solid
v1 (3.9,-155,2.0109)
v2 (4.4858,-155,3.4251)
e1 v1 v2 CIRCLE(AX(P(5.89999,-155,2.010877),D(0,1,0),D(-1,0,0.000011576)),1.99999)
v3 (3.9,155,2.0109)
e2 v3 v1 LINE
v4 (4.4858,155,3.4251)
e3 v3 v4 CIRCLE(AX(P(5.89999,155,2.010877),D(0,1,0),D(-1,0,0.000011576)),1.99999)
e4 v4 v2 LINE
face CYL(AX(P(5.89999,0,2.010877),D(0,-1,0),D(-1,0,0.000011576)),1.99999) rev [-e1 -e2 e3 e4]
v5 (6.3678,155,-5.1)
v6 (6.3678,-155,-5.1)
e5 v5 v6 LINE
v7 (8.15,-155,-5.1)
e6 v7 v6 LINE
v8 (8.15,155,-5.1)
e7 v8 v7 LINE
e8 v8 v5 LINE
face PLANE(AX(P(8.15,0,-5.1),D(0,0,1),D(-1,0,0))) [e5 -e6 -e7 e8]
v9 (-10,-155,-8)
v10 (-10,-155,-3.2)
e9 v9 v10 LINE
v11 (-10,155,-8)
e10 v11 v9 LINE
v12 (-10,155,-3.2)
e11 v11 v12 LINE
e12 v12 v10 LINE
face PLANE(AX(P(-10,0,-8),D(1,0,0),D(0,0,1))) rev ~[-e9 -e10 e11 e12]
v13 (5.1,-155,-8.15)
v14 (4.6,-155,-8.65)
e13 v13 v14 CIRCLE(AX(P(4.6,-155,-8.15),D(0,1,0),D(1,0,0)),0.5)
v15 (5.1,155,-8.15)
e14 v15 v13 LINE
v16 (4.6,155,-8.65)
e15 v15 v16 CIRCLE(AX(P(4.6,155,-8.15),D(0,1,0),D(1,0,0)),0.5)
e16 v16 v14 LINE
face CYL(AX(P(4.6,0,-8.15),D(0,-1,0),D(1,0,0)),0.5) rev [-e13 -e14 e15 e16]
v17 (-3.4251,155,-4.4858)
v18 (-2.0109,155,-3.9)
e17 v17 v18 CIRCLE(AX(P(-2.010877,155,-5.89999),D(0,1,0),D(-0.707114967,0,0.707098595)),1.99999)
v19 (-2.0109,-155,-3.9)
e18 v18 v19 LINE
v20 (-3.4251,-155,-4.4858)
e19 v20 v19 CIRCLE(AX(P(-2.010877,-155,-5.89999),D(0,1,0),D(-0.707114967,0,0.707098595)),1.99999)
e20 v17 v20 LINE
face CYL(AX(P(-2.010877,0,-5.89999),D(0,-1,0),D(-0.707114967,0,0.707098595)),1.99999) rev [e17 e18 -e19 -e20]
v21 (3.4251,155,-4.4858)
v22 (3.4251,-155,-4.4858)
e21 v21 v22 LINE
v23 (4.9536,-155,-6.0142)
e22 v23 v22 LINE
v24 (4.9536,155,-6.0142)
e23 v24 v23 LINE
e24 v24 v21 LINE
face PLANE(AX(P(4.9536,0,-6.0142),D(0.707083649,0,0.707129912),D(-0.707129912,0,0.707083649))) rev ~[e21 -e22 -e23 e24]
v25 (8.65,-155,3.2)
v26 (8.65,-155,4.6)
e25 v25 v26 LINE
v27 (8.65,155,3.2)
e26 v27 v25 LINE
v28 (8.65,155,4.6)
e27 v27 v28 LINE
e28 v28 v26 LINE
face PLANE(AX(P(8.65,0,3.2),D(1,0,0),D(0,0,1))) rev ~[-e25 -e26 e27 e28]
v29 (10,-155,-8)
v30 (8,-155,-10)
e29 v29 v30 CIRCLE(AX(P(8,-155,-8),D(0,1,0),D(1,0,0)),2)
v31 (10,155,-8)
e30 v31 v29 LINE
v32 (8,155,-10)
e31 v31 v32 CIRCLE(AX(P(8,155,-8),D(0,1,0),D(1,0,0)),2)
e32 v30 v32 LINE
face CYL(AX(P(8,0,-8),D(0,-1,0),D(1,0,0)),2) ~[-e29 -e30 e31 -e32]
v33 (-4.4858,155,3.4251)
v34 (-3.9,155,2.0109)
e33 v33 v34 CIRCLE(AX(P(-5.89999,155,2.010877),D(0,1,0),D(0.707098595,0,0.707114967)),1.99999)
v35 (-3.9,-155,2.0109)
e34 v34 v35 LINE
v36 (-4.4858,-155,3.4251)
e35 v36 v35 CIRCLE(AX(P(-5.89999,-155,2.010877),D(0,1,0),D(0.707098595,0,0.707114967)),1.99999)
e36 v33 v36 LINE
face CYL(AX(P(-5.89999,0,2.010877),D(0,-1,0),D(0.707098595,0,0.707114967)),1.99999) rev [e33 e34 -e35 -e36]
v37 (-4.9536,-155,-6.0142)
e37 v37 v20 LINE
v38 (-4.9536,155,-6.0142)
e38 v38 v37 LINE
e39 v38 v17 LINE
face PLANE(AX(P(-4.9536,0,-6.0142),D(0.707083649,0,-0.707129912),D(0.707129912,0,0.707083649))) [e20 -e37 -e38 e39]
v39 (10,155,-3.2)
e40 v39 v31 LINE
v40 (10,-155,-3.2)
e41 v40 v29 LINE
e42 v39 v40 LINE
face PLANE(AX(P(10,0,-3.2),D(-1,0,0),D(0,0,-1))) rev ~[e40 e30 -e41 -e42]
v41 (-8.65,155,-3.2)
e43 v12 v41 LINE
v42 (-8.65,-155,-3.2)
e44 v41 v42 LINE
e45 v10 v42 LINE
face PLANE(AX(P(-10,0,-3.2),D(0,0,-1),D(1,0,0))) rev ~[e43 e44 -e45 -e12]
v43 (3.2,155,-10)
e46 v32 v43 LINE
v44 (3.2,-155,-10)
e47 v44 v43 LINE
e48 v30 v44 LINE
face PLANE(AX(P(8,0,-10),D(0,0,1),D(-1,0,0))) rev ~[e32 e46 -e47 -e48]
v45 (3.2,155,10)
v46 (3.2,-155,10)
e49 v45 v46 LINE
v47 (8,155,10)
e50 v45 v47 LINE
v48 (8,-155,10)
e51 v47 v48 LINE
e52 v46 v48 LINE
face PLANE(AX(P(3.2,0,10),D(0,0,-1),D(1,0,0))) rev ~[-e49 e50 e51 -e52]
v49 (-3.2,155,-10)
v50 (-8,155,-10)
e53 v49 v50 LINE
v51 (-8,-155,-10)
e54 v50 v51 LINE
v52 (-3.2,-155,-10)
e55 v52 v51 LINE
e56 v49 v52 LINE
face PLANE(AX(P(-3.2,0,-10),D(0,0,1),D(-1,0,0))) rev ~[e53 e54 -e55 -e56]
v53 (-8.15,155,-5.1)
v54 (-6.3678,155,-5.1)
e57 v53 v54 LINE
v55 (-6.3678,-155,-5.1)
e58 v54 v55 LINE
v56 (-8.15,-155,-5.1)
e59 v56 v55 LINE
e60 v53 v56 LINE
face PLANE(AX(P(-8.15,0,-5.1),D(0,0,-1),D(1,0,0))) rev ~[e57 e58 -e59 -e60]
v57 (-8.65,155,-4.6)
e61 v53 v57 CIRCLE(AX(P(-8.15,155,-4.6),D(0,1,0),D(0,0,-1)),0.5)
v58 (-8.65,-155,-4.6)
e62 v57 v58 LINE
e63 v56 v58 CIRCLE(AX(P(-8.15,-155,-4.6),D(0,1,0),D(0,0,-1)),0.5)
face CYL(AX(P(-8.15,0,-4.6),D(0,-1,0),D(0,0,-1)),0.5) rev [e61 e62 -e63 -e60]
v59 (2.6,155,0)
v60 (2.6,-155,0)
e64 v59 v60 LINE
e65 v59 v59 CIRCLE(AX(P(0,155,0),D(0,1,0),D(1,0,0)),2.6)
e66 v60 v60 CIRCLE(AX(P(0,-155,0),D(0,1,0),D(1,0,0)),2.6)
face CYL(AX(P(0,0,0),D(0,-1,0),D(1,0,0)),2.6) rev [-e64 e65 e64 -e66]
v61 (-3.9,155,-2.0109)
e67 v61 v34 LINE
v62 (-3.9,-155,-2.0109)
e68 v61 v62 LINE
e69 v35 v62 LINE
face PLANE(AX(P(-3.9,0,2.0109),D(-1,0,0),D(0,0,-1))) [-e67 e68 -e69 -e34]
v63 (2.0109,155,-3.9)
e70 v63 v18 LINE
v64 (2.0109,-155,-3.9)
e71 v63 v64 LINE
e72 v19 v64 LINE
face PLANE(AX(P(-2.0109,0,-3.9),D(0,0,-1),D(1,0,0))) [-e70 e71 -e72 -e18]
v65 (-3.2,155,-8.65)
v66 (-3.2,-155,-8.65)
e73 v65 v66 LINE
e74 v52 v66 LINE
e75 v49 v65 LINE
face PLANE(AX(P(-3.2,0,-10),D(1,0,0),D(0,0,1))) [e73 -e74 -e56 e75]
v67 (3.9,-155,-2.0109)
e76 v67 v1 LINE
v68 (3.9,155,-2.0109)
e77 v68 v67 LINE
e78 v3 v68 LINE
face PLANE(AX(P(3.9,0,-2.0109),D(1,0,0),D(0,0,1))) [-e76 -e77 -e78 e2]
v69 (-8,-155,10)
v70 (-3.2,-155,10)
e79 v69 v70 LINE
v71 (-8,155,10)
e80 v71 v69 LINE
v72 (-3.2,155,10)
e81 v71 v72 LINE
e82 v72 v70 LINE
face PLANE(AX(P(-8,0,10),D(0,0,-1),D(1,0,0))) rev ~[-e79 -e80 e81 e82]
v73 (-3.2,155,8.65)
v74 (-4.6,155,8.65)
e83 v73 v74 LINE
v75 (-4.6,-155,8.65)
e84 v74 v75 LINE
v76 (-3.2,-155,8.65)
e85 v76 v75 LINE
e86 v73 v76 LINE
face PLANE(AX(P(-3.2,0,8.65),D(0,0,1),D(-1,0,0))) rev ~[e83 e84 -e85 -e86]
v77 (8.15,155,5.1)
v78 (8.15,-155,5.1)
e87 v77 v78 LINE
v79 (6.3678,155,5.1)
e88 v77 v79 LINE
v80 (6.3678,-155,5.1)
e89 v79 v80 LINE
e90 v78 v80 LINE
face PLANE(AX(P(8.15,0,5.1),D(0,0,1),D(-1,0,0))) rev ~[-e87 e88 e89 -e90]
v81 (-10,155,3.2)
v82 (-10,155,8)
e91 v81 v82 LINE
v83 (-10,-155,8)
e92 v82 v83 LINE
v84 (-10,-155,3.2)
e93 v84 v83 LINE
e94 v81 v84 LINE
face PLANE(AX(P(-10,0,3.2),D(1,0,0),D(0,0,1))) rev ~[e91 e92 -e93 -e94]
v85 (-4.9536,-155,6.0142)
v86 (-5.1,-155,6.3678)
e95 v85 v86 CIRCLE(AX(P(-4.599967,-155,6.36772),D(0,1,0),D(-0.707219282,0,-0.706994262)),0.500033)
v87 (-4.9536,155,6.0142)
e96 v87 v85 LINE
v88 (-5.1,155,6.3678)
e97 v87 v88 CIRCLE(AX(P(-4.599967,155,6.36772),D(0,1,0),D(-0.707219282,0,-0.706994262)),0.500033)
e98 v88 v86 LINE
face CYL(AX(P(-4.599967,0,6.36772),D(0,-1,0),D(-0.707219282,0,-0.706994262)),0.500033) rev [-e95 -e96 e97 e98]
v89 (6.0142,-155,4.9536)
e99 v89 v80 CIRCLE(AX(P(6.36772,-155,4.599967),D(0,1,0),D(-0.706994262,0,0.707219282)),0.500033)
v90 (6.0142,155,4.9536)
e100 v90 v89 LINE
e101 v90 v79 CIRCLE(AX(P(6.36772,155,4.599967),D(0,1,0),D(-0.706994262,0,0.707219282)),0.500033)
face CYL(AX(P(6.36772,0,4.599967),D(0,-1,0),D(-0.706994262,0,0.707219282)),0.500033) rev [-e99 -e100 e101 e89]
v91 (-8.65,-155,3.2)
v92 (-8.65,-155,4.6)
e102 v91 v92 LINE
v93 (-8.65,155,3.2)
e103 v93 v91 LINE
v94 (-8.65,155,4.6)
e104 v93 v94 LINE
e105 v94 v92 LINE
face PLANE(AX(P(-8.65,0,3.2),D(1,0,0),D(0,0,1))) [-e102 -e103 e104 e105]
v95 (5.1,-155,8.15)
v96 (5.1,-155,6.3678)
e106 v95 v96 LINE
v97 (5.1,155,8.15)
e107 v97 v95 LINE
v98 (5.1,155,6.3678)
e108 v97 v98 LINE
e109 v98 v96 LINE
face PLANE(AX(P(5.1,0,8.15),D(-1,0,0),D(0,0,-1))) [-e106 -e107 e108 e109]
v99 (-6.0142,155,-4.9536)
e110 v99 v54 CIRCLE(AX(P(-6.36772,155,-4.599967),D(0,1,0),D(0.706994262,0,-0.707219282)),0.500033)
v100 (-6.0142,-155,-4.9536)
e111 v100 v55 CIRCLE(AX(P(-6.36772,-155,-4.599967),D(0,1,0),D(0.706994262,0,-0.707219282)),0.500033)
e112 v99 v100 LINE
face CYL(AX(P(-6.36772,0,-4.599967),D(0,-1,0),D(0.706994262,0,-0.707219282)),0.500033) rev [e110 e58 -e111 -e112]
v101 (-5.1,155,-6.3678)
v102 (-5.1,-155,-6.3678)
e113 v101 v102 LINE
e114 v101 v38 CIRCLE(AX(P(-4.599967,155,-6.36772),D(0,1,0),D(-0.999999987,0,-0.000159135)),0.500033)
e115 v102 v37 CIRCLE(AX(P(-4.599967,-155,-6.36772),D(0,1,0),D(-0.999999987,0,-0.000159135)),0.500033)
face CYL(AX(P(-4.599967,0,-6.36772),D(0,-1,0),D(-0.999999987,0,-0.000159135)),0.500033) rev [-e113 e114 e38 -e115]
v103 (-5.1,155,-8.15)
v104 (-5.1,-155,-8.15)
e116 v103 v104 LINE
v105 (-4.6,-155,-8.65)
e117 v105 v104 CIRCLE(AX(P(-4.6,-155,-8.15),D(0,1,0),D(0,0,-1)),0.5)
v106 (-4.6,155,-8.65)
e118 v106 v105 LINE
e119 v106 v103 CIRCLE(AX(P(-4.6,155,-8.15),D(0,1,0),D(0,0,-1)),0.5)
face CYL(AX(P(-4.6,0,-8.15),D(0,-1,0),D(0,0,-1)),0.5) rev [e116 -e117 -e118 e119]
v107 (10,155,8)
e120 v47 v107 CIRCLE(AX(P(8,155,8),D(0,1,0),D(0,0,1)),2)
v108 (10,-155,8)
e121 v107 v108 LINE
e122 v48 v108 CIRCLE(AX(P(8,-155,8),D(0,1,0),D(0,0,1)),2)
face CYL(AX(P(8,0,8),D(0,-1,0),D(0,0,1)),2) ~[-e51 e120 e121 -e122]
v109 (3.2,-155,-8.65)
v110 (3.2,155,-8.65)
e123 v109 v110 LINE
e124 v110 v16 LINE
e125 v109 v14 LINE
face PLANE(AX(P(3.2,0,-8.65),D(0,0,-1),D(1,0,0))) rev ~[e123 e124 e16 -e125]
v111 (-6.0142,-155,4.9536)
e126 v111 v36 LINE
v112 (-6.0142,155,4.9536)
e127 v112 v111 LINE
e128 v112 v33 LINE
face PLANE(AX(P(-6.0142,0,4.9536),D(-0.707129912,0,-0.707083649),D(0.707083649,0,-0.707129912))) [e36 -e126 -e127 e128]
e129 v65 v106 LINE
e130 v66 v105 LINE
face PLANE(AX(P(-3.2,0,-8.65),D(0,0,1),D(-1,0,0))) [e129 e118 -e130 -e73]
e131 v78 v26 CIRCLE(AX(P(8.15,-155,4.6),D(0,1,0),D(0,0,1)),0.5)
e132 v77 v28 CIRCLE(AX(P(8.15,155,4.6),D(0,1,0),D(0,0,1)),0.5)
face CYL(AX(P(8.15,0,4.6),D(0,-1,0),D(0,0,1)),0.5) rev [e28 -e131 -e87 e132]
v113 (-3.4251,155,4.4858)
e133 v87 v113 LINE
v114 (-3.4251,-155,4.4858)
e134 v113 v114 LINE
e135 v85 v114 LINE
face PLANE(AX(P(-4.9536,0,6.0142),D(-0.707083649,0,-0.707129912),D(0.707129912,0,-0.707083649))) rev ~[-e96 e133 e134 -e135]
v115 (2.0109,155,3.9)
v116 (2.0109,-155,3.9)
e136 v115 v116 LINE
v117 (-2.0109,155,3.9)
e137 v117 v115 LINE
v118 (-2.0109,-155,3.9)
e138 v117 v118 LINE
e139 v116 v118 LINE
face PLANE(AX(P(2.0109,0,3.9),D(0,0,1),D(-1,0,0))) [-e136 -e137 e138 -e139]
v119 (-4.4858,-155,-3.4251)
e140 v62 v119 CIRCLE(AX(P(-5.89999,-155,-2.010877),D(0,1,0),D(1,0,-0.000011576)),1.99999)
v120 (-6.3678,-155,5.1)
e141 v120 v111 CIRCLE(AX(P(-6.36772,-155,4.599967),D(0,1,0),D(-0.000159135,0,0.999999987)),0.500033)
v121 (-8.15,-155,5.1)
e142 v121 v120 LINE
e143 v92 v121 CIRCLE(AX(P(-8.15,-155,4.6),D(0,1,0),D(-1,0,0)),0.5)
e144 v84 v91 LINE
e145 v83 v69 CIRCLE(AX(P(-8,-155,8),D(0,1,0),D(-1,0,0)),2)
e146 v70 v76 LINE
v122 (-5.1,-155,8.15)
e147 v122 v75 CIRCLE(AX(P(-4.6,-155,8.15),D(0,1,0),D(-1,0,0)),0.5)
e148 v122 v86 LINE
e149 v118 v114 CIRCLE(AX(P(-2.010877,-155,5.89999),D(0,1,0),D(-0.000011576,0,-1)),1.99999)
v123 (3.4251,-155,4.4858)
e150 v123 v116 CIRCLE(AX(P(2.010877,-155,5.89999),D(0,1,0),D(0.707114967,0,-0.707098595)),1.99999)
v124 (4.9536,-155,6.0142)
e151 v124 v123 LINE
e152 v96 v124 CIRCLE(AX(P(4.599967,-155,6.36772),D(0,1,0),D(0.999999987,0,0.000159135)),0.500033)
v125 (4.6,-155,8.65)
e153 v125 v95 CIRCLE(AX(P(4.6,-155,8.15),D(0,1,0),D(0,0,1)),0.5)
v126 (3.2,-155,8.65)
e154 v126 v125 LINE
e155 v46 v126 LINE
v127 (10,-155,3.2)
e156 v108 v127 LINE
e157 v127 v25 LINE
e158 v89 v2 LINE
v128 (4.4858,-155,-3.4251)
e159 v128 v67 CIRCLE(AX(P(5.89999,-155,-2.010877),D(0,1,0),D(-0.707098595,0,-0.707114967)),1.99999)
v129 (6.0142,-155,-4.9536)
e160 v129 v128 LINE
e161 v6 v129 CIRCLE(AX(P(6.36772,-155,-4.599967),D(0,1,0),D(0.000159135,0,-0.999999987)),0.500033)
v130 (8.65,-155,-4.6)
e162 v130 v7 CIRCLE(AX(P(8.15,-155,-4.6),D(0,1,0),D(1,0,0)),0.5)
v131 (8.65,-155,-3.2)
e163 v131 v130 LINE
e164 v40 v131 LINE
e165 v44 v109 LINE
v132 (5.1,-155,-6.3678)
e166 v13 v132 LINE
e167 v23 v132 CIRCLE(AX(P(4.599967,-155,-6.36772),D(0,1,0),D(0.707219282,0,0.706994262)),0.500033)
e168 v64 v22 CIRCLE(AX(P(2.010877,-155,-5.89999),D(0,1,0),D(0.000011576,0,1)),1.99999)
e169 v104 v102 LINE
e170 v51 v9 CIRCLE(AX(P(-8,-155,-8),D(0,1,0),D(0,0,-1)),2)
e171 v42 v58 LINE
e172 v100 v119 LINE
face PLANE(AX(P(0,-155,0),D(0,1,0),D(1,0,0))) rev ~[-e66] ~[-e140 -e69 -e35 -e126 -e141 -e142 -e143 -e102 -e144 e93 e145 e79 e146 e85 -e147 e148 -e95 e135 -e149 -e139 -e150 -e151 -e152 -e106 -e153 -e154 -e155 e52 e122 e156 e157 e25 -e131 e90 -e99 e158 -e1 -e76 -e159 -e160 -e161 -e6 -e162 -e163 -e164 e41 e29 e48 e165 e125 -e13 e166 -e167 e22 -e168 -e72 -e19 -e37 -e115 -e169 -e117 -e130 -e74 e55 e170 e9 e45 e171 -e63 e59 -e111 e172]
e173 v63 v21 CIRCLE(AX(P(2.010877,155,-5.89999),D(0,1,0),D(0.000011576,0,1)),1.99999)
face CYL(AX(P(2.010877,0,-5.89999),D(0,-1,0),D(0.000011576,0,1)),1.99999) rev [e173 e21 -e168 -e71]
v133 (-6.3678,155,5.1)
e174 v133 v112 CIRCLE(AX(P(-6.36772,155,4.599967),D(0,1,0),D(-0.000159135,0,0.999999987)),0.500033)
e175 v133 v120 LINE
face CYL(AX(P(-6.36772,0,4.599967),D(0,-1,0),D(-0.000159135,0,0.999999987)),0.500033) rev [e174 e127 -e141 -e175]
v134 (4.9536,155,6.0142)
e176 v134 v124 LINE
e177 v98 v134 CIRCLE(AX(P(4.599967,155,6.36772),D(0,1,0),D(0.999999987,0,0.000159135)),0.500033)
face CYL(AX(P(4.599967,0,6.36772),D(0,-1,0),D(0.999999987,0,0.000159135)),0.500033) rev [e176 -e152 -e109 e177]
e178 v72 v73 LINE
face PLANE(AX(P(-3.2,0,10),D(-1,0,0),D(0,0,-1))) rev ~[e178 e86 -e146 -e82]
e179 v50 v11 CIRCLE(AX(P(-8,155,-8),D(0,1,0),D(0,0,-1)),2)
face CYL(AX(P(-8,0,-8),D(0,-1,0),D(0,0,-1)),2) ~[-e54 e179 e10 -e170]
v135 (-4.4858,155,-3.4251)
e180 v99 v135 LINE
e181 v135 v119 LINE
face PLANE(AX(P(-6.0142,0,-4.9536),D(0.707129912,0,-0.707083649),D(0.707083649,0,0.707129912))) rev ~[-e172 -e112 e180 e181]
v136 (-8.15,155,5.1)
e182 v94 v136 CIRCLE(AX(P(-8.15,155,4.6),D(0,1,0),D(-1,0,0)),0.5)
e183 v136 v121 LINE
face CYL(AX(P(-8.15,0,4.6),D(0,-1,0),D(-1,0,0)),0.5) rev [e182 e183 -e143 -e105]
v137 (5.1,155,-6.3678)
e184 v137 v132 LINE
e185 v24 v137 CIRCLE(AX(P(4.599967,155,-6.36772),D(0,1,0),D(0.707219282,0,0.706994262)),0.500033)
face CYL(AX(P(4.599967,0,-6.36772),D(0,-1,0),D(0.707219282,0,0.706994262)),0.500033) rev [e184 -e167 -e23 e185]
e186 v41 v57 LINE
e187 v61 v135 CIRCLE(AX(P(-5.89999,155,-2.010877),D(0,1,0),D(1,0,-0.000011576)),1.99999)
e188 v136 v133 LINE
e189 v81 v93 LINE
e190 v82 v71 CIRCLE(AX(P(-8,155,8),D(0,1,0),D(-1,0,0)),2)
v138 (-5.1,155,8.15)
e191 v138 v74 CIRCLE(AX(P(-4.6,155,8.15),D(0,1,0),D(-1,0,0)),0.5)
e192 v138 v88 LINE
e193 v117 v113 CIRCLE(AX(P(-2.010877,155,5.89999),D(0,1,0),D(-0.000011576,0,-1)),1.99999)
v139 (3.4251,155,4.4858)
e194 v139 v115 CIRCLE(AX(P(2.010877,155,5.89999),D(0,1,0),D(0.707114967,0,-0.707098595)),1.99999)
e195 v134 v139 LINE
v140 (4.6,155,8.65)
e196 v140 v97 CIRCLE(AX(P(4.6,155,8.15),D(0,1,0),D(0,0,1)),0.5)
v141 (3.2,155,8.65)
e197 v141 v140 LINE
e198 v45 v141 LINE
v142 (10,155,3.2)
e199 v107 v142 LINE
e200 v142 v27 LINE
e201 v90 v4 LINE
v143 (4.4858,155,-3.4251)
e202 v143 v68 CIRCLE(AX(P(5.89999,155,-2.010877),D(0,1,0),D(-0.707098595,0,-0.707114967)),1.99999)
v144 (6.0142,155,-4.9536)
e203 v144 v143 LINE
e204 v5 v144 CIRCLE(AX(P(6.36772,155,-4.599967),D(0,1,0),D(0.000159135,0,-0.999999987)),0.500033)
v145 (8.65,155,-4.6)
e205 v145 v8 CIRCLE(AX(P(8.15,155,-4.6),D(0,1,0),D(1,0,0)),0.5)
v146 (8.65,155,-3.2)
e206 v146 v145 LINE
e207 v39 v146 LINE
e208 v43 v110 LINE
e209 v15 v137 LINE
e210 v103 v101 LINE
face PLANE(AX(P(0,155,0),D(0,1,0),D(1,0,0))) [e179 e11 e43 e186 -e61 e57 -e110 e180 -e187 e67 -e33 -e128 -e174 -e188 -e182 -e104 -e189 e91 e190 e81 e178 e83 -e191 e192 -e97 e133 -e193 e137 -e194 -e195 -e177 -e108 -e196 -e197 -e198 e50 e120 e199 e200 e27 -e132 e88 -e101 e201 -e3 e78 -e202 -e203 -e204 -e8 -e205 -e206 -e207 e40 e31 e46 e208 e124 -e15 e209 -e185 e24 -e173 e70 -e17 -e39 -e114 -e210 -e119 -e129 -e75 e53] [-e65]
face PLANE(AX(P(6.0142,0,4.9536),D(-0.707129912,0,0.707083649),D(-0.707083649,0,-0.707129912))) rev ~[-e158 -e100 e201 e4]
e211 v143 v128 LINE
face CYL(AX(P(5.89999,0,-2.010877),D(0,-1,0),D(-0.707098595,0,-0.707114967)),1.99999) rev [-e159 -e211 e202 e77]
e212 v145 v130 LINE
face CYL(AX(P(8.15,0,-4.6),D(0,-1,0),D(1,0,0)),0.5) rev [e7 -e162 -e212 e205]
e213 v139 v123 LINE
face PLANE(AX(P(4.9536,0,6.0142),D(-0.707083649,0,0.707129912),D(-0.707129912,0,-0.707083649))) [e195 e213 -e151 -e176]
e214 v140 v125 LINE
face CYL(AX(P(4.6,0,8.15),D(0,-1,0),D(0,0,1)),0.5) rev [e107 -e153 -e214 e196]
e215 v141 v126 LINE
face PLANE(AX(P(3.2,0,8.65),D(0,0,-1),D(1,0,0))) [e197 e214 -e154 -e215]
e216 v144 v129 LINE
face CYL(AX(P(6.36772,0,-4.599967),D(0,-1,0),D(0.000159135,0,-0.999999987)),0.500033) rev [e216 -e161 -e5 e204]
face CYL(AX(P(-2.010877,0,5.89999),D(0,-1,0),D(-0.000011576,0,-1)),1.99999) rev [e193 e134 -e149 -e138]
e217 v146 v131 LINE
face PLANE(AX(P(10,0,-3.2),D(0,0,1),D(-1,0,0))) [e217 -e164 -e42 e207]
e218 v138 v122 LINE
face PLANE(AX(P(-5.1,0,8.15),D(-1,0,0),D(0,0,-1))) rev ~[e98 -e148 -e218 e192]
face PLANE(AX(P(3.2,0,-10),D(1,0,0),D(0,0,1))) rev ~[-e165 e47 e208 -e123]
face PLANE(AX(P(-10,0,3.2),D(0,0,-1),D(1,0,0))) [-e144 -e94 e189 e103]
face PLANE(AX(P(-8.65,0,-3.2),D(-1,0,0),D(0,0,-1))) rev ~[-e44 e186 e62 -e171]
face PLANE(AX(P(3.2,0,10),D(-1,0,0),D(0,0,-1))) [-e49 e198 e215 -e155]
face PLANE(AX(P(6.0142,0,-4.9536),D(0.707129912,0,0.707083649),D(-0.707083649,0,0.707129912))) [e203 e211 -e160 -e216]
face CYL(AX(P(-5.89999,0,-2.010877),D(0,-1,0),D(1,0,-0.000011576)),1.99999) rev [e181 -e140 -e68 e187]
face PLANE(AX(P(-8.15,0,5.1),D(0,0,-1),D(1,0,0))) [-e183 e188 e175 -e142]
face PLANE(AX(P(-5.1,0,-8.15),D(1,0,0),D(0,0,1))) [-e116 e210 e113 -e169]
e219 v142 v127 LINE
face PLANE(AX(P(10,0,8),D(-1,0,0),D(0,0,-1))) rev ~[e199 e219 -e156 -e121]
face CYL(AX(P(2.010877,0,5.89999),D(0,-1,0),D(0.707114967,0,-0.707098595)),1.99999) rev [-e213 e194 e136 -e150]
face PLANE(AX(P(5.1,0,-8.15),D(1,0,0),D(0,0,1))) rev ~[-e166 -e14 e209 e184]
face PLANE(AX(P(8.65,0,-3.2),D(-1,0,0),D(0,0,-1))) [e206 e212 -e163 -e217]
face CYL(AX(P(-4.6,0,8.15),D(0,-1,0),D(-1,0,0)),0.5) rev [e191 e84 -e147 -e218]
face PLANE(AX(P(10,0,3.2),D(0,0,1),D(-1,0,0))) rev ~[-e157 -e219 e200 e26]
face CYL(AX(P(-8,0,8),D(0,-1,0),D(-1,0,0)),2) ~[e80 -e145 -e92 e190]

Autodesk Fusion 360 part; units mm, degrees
sketch "スケッチ1" plane through (0, 0, 0) normal (0, 1, 0) x (1, 0, 0)
  line L0 (8, 10) -> (-8, 10)
  line L1 (-10, 8) -> (-10, -8)
  line L2 (-8, -10) -> (8, -10)
  line L3 (10, -8) -> (10, 8)
  line L4 (10, 10) -> (-10, -10) construction
  line L5 (-10, 10) -> (10, -10) construction
  circle A0 centre (0, 0) radius 2.6
  line L6 (-3.2, -10) -> (-3.2, -8.65)
  line L7 (-3.2, -8.65) -> (-4.6, -8.65)
  line L8 (-5.1, -8.15) -> (-5.1, -6.3678)
  line L9 (-4.9536, -6.0142) -> (-3.4251, -4.4858)
  line L10 (0, 0) -> (0, -10) construction
  line L11 (-2.0109, -3.9) -> (0, -3.9)
  arc A1 (-5.1, -8.15) -> (-4.6, -8.65) centre (-4.6, -8.15) ccw
  arc A2 (-4.9536, -6.0142) -> (-5.1, -6.3678) centre (-4.6, -6.3678) ccw
  arc A3 (-2.0109, -3.9) -> (-3.4251, -4.4858) centre (-2.0109, -5.9) ccw
  arc A4 (-10, -8) -> (-8, -10) centre (-8, -8) ccw
  arc A5 (10, 8) -> (8, 10) centre (8, 8) ccw
  arc A6 (8, -10) -> (10, -8) centre (8, -8) ccw
  arc A7 (-8, 10) -> (-10, 8) centre (-8, 8) ccw
  line L12 (3.2, -10) -> (3.2, -8.65)
  line L13 (3.2, -8.65) -> (4.6, -8.65)
  arc A8 (4.6, -8.65) -> (5.1, -8.15) centre (4.6, -8.15) ccw
  line L14 (5.1, -8.15) -> (5.1, -6.3678)
  arc A9 (5.1, -6.3678) -> (4.9536, -6.0142) centre (4.6, -6.3678) ccw
  line L15 (4.9536, -6.0142) -> (3.4251, -4.4858)
  arc A10 (3.4251, -4.4858) -> (2.0109, -3.9) centre (2.0109, -5.9) ccw
  line L16 (2.0109, -3.9) -> (0, -3.9)
  line L17 (10, -3.2) -> (8.65, -3.2)
  line L18 (8.65, -3.2) -> (8.65, -4.6)
  arc A11 (8.15, -5.1) -> (8.65, -4.6) centre (8.15, -4.6) ccw
  line L19 (8.15, -5.1) -> (6.3678, -5.1)
  arc A12 (6.0142, -4.9536) -> (6.3678, -5.1) centre (6.3678, -4.6) ccw
  line L20 (6.0142, -4.9536) -> (4.4858, -3.4251)
  arc A13 (3.9, -2.0109) -> (4.4858, -3.4251) centre (5.9, -2.0109) ccw
  line L21 (3.9, -2.0109) -> (3.9, 0)
  line L22 (3.9, 2.0109) -> (3.9, 0)
  arc A14 (4.4858, 3.4251) -> (3.9, 2.0109) centre (5.9, 2.0109) ccw
  line L23 (6.0142, 4.9536) -> (4.4858, 3.4251)
  arc A15 (6.3678, 5.1) -> (6.0142, 4.9536) centre (6.3678, 4.6) ccw
  line L24 (8.15, 5.1) -> (6.3678, 5.1)
  arc A16 (8.65, 4.6) -> (8.15, 5.1) centre (8.15, 4.6) ccw
  line L25 (8.65, 3.2) -> (8.65, 4.6)
  line L26 (10, 3.2) -> (8.65, 3.2)
  line L27 (3.2, 10) -> (3.2, 8.65)
  line L28 (3.2, 8.65) -> (4.6, 8.65)
  arc A17 (5.1, 8.15) -> (4.6, 8.65) centre (4.6, 8.15) ccw
  line L29 (5.1, 8.15) -> (5.1, 6.3678)
  arc A18 (4.9536, 6.0142) -> (5.1, 6.3678) centre (4.6, 6.3678) ccw
  line L30 (4.9536, 6.0142) -> (3.4251, 4.4858)
  arc A19 (2.0109, 3.9) -> (3.4251, 4.4858) centre (2.0109, 5.9) ccw
  line L31 (2.0109, 3.9) -> (0, 3.9)
  line L32 (-2.0109, 3.9) -> (0, 3.9)
  arc A20 (-3.4251, 4.4858) -> (-2.0109, 3.9) centre (-2.0109, 5.9) ccw
  line L33 (-4.9536, 6.0142) -> (-3.4251, 4.4858)
  arc A21 (-5.1, 6.3678) -> (-4.9536, 6.0142) centre (-4.6, 6.3678) ccw
  line L34 (-5.1, 8.15) -> (-5.1, 6.3678)
  arc A22 (-4.6, 8.65) -> (-5.1, 8.15) centre (-4.6, 8.15) ccw
  line L35 (-3.2, 8.65) -> (-4.6, 8.65)
  line L36 (-3.2, 10) -> (-3.2, 8.65)
  line L37 (-10, 3.2) -> (-8.65, 3.2)
  line L38 (-8.65, 3.2) -> (-8.65, 4.6)
  arc A23 (-8.15, 5.1) -> (-8.65, 4.6) centre (-8.15, 4.6) ccw
  line L39 (-8.15, 5.1) -> (-6.3678, 5.1)
  arc A24 (-6.0142, 4.9536) -> (-6.3678, 5.1) centre (-6.3678, 4.6) ccw
  line L40 (-6.0142, 4.9536) -> (-4.4858, 3.4251)
  arc A25 (-3.9, 2.0109) -> (-4.4858, 3.4251) centre (-5.9, 2.0109) ccw
  line L41 (-3.9, 2.0109) -> (-3.9, 0)
  line L42 (-3.9, -2.0109) -> (-3.9, 0)
  arc A26 (-4.4858, -3.4251) -> (-3.9, -2.0109) centre (-5.9, -2.0109) ccw
  line L43 (-6.0142, -4.9536) -> (-4.4858, -3.4251)
  arc A27 (-6.3678, -5.1) -> (-6.0142, -4.9536) centre (-6.3678, -4.6) ccw
  line L44 (-8.15, -5.1) -> (-6.3678, -5.1)
  arc A28 (-8.65, -4.6) -> (-8.15, -5.1) centre (-8.15, -4.6) ccw
  line L45 (-8.65, -3.2) -> (-8.65, -4.6)
  line L46 (-10, -3.2) -> (-8.65, -3.2)
  dimension "d1" = 20
  dimension "d2" = 20
  dimension "d3" = 5.2
  dimension "d4" = 1.35
  dimension "d5" = 3.2
  dimension "d6" = 5.1
  dimension "d7" = 6.1
  dimension "d8" = 0.75
  dimension "d9" = 0.5
  dimension "d10" = 2
  dimension "d11" = 2
  dimension "d12" = 2
  dimension "d13" = 2
  dimension "d14" = 2
  dimension "d16" = 360
extrude "押し出し1" add sketch "スケッチ1" along normal mid plane 310 contours L0 L1 L2 L3 L6 L7 L8 L9 L11 A1 A2 A3 A4 A5 A6 A7 L12 L13 A8 L14 A9 L15 A10 L16 L17 L18 A11 L19 A12 L20 A13 L21 L22 A14 L23 A15 L24 A16 L25 L26 L27 L28 A17 L29 A18 L30 A19 L31 L32 A20 L33 A21 L34 A22 L35 L36 L37 L38 A23 L39 A24 L40 A25 L41 L42 A26 L43 A27 L44 A28 L45 L46
